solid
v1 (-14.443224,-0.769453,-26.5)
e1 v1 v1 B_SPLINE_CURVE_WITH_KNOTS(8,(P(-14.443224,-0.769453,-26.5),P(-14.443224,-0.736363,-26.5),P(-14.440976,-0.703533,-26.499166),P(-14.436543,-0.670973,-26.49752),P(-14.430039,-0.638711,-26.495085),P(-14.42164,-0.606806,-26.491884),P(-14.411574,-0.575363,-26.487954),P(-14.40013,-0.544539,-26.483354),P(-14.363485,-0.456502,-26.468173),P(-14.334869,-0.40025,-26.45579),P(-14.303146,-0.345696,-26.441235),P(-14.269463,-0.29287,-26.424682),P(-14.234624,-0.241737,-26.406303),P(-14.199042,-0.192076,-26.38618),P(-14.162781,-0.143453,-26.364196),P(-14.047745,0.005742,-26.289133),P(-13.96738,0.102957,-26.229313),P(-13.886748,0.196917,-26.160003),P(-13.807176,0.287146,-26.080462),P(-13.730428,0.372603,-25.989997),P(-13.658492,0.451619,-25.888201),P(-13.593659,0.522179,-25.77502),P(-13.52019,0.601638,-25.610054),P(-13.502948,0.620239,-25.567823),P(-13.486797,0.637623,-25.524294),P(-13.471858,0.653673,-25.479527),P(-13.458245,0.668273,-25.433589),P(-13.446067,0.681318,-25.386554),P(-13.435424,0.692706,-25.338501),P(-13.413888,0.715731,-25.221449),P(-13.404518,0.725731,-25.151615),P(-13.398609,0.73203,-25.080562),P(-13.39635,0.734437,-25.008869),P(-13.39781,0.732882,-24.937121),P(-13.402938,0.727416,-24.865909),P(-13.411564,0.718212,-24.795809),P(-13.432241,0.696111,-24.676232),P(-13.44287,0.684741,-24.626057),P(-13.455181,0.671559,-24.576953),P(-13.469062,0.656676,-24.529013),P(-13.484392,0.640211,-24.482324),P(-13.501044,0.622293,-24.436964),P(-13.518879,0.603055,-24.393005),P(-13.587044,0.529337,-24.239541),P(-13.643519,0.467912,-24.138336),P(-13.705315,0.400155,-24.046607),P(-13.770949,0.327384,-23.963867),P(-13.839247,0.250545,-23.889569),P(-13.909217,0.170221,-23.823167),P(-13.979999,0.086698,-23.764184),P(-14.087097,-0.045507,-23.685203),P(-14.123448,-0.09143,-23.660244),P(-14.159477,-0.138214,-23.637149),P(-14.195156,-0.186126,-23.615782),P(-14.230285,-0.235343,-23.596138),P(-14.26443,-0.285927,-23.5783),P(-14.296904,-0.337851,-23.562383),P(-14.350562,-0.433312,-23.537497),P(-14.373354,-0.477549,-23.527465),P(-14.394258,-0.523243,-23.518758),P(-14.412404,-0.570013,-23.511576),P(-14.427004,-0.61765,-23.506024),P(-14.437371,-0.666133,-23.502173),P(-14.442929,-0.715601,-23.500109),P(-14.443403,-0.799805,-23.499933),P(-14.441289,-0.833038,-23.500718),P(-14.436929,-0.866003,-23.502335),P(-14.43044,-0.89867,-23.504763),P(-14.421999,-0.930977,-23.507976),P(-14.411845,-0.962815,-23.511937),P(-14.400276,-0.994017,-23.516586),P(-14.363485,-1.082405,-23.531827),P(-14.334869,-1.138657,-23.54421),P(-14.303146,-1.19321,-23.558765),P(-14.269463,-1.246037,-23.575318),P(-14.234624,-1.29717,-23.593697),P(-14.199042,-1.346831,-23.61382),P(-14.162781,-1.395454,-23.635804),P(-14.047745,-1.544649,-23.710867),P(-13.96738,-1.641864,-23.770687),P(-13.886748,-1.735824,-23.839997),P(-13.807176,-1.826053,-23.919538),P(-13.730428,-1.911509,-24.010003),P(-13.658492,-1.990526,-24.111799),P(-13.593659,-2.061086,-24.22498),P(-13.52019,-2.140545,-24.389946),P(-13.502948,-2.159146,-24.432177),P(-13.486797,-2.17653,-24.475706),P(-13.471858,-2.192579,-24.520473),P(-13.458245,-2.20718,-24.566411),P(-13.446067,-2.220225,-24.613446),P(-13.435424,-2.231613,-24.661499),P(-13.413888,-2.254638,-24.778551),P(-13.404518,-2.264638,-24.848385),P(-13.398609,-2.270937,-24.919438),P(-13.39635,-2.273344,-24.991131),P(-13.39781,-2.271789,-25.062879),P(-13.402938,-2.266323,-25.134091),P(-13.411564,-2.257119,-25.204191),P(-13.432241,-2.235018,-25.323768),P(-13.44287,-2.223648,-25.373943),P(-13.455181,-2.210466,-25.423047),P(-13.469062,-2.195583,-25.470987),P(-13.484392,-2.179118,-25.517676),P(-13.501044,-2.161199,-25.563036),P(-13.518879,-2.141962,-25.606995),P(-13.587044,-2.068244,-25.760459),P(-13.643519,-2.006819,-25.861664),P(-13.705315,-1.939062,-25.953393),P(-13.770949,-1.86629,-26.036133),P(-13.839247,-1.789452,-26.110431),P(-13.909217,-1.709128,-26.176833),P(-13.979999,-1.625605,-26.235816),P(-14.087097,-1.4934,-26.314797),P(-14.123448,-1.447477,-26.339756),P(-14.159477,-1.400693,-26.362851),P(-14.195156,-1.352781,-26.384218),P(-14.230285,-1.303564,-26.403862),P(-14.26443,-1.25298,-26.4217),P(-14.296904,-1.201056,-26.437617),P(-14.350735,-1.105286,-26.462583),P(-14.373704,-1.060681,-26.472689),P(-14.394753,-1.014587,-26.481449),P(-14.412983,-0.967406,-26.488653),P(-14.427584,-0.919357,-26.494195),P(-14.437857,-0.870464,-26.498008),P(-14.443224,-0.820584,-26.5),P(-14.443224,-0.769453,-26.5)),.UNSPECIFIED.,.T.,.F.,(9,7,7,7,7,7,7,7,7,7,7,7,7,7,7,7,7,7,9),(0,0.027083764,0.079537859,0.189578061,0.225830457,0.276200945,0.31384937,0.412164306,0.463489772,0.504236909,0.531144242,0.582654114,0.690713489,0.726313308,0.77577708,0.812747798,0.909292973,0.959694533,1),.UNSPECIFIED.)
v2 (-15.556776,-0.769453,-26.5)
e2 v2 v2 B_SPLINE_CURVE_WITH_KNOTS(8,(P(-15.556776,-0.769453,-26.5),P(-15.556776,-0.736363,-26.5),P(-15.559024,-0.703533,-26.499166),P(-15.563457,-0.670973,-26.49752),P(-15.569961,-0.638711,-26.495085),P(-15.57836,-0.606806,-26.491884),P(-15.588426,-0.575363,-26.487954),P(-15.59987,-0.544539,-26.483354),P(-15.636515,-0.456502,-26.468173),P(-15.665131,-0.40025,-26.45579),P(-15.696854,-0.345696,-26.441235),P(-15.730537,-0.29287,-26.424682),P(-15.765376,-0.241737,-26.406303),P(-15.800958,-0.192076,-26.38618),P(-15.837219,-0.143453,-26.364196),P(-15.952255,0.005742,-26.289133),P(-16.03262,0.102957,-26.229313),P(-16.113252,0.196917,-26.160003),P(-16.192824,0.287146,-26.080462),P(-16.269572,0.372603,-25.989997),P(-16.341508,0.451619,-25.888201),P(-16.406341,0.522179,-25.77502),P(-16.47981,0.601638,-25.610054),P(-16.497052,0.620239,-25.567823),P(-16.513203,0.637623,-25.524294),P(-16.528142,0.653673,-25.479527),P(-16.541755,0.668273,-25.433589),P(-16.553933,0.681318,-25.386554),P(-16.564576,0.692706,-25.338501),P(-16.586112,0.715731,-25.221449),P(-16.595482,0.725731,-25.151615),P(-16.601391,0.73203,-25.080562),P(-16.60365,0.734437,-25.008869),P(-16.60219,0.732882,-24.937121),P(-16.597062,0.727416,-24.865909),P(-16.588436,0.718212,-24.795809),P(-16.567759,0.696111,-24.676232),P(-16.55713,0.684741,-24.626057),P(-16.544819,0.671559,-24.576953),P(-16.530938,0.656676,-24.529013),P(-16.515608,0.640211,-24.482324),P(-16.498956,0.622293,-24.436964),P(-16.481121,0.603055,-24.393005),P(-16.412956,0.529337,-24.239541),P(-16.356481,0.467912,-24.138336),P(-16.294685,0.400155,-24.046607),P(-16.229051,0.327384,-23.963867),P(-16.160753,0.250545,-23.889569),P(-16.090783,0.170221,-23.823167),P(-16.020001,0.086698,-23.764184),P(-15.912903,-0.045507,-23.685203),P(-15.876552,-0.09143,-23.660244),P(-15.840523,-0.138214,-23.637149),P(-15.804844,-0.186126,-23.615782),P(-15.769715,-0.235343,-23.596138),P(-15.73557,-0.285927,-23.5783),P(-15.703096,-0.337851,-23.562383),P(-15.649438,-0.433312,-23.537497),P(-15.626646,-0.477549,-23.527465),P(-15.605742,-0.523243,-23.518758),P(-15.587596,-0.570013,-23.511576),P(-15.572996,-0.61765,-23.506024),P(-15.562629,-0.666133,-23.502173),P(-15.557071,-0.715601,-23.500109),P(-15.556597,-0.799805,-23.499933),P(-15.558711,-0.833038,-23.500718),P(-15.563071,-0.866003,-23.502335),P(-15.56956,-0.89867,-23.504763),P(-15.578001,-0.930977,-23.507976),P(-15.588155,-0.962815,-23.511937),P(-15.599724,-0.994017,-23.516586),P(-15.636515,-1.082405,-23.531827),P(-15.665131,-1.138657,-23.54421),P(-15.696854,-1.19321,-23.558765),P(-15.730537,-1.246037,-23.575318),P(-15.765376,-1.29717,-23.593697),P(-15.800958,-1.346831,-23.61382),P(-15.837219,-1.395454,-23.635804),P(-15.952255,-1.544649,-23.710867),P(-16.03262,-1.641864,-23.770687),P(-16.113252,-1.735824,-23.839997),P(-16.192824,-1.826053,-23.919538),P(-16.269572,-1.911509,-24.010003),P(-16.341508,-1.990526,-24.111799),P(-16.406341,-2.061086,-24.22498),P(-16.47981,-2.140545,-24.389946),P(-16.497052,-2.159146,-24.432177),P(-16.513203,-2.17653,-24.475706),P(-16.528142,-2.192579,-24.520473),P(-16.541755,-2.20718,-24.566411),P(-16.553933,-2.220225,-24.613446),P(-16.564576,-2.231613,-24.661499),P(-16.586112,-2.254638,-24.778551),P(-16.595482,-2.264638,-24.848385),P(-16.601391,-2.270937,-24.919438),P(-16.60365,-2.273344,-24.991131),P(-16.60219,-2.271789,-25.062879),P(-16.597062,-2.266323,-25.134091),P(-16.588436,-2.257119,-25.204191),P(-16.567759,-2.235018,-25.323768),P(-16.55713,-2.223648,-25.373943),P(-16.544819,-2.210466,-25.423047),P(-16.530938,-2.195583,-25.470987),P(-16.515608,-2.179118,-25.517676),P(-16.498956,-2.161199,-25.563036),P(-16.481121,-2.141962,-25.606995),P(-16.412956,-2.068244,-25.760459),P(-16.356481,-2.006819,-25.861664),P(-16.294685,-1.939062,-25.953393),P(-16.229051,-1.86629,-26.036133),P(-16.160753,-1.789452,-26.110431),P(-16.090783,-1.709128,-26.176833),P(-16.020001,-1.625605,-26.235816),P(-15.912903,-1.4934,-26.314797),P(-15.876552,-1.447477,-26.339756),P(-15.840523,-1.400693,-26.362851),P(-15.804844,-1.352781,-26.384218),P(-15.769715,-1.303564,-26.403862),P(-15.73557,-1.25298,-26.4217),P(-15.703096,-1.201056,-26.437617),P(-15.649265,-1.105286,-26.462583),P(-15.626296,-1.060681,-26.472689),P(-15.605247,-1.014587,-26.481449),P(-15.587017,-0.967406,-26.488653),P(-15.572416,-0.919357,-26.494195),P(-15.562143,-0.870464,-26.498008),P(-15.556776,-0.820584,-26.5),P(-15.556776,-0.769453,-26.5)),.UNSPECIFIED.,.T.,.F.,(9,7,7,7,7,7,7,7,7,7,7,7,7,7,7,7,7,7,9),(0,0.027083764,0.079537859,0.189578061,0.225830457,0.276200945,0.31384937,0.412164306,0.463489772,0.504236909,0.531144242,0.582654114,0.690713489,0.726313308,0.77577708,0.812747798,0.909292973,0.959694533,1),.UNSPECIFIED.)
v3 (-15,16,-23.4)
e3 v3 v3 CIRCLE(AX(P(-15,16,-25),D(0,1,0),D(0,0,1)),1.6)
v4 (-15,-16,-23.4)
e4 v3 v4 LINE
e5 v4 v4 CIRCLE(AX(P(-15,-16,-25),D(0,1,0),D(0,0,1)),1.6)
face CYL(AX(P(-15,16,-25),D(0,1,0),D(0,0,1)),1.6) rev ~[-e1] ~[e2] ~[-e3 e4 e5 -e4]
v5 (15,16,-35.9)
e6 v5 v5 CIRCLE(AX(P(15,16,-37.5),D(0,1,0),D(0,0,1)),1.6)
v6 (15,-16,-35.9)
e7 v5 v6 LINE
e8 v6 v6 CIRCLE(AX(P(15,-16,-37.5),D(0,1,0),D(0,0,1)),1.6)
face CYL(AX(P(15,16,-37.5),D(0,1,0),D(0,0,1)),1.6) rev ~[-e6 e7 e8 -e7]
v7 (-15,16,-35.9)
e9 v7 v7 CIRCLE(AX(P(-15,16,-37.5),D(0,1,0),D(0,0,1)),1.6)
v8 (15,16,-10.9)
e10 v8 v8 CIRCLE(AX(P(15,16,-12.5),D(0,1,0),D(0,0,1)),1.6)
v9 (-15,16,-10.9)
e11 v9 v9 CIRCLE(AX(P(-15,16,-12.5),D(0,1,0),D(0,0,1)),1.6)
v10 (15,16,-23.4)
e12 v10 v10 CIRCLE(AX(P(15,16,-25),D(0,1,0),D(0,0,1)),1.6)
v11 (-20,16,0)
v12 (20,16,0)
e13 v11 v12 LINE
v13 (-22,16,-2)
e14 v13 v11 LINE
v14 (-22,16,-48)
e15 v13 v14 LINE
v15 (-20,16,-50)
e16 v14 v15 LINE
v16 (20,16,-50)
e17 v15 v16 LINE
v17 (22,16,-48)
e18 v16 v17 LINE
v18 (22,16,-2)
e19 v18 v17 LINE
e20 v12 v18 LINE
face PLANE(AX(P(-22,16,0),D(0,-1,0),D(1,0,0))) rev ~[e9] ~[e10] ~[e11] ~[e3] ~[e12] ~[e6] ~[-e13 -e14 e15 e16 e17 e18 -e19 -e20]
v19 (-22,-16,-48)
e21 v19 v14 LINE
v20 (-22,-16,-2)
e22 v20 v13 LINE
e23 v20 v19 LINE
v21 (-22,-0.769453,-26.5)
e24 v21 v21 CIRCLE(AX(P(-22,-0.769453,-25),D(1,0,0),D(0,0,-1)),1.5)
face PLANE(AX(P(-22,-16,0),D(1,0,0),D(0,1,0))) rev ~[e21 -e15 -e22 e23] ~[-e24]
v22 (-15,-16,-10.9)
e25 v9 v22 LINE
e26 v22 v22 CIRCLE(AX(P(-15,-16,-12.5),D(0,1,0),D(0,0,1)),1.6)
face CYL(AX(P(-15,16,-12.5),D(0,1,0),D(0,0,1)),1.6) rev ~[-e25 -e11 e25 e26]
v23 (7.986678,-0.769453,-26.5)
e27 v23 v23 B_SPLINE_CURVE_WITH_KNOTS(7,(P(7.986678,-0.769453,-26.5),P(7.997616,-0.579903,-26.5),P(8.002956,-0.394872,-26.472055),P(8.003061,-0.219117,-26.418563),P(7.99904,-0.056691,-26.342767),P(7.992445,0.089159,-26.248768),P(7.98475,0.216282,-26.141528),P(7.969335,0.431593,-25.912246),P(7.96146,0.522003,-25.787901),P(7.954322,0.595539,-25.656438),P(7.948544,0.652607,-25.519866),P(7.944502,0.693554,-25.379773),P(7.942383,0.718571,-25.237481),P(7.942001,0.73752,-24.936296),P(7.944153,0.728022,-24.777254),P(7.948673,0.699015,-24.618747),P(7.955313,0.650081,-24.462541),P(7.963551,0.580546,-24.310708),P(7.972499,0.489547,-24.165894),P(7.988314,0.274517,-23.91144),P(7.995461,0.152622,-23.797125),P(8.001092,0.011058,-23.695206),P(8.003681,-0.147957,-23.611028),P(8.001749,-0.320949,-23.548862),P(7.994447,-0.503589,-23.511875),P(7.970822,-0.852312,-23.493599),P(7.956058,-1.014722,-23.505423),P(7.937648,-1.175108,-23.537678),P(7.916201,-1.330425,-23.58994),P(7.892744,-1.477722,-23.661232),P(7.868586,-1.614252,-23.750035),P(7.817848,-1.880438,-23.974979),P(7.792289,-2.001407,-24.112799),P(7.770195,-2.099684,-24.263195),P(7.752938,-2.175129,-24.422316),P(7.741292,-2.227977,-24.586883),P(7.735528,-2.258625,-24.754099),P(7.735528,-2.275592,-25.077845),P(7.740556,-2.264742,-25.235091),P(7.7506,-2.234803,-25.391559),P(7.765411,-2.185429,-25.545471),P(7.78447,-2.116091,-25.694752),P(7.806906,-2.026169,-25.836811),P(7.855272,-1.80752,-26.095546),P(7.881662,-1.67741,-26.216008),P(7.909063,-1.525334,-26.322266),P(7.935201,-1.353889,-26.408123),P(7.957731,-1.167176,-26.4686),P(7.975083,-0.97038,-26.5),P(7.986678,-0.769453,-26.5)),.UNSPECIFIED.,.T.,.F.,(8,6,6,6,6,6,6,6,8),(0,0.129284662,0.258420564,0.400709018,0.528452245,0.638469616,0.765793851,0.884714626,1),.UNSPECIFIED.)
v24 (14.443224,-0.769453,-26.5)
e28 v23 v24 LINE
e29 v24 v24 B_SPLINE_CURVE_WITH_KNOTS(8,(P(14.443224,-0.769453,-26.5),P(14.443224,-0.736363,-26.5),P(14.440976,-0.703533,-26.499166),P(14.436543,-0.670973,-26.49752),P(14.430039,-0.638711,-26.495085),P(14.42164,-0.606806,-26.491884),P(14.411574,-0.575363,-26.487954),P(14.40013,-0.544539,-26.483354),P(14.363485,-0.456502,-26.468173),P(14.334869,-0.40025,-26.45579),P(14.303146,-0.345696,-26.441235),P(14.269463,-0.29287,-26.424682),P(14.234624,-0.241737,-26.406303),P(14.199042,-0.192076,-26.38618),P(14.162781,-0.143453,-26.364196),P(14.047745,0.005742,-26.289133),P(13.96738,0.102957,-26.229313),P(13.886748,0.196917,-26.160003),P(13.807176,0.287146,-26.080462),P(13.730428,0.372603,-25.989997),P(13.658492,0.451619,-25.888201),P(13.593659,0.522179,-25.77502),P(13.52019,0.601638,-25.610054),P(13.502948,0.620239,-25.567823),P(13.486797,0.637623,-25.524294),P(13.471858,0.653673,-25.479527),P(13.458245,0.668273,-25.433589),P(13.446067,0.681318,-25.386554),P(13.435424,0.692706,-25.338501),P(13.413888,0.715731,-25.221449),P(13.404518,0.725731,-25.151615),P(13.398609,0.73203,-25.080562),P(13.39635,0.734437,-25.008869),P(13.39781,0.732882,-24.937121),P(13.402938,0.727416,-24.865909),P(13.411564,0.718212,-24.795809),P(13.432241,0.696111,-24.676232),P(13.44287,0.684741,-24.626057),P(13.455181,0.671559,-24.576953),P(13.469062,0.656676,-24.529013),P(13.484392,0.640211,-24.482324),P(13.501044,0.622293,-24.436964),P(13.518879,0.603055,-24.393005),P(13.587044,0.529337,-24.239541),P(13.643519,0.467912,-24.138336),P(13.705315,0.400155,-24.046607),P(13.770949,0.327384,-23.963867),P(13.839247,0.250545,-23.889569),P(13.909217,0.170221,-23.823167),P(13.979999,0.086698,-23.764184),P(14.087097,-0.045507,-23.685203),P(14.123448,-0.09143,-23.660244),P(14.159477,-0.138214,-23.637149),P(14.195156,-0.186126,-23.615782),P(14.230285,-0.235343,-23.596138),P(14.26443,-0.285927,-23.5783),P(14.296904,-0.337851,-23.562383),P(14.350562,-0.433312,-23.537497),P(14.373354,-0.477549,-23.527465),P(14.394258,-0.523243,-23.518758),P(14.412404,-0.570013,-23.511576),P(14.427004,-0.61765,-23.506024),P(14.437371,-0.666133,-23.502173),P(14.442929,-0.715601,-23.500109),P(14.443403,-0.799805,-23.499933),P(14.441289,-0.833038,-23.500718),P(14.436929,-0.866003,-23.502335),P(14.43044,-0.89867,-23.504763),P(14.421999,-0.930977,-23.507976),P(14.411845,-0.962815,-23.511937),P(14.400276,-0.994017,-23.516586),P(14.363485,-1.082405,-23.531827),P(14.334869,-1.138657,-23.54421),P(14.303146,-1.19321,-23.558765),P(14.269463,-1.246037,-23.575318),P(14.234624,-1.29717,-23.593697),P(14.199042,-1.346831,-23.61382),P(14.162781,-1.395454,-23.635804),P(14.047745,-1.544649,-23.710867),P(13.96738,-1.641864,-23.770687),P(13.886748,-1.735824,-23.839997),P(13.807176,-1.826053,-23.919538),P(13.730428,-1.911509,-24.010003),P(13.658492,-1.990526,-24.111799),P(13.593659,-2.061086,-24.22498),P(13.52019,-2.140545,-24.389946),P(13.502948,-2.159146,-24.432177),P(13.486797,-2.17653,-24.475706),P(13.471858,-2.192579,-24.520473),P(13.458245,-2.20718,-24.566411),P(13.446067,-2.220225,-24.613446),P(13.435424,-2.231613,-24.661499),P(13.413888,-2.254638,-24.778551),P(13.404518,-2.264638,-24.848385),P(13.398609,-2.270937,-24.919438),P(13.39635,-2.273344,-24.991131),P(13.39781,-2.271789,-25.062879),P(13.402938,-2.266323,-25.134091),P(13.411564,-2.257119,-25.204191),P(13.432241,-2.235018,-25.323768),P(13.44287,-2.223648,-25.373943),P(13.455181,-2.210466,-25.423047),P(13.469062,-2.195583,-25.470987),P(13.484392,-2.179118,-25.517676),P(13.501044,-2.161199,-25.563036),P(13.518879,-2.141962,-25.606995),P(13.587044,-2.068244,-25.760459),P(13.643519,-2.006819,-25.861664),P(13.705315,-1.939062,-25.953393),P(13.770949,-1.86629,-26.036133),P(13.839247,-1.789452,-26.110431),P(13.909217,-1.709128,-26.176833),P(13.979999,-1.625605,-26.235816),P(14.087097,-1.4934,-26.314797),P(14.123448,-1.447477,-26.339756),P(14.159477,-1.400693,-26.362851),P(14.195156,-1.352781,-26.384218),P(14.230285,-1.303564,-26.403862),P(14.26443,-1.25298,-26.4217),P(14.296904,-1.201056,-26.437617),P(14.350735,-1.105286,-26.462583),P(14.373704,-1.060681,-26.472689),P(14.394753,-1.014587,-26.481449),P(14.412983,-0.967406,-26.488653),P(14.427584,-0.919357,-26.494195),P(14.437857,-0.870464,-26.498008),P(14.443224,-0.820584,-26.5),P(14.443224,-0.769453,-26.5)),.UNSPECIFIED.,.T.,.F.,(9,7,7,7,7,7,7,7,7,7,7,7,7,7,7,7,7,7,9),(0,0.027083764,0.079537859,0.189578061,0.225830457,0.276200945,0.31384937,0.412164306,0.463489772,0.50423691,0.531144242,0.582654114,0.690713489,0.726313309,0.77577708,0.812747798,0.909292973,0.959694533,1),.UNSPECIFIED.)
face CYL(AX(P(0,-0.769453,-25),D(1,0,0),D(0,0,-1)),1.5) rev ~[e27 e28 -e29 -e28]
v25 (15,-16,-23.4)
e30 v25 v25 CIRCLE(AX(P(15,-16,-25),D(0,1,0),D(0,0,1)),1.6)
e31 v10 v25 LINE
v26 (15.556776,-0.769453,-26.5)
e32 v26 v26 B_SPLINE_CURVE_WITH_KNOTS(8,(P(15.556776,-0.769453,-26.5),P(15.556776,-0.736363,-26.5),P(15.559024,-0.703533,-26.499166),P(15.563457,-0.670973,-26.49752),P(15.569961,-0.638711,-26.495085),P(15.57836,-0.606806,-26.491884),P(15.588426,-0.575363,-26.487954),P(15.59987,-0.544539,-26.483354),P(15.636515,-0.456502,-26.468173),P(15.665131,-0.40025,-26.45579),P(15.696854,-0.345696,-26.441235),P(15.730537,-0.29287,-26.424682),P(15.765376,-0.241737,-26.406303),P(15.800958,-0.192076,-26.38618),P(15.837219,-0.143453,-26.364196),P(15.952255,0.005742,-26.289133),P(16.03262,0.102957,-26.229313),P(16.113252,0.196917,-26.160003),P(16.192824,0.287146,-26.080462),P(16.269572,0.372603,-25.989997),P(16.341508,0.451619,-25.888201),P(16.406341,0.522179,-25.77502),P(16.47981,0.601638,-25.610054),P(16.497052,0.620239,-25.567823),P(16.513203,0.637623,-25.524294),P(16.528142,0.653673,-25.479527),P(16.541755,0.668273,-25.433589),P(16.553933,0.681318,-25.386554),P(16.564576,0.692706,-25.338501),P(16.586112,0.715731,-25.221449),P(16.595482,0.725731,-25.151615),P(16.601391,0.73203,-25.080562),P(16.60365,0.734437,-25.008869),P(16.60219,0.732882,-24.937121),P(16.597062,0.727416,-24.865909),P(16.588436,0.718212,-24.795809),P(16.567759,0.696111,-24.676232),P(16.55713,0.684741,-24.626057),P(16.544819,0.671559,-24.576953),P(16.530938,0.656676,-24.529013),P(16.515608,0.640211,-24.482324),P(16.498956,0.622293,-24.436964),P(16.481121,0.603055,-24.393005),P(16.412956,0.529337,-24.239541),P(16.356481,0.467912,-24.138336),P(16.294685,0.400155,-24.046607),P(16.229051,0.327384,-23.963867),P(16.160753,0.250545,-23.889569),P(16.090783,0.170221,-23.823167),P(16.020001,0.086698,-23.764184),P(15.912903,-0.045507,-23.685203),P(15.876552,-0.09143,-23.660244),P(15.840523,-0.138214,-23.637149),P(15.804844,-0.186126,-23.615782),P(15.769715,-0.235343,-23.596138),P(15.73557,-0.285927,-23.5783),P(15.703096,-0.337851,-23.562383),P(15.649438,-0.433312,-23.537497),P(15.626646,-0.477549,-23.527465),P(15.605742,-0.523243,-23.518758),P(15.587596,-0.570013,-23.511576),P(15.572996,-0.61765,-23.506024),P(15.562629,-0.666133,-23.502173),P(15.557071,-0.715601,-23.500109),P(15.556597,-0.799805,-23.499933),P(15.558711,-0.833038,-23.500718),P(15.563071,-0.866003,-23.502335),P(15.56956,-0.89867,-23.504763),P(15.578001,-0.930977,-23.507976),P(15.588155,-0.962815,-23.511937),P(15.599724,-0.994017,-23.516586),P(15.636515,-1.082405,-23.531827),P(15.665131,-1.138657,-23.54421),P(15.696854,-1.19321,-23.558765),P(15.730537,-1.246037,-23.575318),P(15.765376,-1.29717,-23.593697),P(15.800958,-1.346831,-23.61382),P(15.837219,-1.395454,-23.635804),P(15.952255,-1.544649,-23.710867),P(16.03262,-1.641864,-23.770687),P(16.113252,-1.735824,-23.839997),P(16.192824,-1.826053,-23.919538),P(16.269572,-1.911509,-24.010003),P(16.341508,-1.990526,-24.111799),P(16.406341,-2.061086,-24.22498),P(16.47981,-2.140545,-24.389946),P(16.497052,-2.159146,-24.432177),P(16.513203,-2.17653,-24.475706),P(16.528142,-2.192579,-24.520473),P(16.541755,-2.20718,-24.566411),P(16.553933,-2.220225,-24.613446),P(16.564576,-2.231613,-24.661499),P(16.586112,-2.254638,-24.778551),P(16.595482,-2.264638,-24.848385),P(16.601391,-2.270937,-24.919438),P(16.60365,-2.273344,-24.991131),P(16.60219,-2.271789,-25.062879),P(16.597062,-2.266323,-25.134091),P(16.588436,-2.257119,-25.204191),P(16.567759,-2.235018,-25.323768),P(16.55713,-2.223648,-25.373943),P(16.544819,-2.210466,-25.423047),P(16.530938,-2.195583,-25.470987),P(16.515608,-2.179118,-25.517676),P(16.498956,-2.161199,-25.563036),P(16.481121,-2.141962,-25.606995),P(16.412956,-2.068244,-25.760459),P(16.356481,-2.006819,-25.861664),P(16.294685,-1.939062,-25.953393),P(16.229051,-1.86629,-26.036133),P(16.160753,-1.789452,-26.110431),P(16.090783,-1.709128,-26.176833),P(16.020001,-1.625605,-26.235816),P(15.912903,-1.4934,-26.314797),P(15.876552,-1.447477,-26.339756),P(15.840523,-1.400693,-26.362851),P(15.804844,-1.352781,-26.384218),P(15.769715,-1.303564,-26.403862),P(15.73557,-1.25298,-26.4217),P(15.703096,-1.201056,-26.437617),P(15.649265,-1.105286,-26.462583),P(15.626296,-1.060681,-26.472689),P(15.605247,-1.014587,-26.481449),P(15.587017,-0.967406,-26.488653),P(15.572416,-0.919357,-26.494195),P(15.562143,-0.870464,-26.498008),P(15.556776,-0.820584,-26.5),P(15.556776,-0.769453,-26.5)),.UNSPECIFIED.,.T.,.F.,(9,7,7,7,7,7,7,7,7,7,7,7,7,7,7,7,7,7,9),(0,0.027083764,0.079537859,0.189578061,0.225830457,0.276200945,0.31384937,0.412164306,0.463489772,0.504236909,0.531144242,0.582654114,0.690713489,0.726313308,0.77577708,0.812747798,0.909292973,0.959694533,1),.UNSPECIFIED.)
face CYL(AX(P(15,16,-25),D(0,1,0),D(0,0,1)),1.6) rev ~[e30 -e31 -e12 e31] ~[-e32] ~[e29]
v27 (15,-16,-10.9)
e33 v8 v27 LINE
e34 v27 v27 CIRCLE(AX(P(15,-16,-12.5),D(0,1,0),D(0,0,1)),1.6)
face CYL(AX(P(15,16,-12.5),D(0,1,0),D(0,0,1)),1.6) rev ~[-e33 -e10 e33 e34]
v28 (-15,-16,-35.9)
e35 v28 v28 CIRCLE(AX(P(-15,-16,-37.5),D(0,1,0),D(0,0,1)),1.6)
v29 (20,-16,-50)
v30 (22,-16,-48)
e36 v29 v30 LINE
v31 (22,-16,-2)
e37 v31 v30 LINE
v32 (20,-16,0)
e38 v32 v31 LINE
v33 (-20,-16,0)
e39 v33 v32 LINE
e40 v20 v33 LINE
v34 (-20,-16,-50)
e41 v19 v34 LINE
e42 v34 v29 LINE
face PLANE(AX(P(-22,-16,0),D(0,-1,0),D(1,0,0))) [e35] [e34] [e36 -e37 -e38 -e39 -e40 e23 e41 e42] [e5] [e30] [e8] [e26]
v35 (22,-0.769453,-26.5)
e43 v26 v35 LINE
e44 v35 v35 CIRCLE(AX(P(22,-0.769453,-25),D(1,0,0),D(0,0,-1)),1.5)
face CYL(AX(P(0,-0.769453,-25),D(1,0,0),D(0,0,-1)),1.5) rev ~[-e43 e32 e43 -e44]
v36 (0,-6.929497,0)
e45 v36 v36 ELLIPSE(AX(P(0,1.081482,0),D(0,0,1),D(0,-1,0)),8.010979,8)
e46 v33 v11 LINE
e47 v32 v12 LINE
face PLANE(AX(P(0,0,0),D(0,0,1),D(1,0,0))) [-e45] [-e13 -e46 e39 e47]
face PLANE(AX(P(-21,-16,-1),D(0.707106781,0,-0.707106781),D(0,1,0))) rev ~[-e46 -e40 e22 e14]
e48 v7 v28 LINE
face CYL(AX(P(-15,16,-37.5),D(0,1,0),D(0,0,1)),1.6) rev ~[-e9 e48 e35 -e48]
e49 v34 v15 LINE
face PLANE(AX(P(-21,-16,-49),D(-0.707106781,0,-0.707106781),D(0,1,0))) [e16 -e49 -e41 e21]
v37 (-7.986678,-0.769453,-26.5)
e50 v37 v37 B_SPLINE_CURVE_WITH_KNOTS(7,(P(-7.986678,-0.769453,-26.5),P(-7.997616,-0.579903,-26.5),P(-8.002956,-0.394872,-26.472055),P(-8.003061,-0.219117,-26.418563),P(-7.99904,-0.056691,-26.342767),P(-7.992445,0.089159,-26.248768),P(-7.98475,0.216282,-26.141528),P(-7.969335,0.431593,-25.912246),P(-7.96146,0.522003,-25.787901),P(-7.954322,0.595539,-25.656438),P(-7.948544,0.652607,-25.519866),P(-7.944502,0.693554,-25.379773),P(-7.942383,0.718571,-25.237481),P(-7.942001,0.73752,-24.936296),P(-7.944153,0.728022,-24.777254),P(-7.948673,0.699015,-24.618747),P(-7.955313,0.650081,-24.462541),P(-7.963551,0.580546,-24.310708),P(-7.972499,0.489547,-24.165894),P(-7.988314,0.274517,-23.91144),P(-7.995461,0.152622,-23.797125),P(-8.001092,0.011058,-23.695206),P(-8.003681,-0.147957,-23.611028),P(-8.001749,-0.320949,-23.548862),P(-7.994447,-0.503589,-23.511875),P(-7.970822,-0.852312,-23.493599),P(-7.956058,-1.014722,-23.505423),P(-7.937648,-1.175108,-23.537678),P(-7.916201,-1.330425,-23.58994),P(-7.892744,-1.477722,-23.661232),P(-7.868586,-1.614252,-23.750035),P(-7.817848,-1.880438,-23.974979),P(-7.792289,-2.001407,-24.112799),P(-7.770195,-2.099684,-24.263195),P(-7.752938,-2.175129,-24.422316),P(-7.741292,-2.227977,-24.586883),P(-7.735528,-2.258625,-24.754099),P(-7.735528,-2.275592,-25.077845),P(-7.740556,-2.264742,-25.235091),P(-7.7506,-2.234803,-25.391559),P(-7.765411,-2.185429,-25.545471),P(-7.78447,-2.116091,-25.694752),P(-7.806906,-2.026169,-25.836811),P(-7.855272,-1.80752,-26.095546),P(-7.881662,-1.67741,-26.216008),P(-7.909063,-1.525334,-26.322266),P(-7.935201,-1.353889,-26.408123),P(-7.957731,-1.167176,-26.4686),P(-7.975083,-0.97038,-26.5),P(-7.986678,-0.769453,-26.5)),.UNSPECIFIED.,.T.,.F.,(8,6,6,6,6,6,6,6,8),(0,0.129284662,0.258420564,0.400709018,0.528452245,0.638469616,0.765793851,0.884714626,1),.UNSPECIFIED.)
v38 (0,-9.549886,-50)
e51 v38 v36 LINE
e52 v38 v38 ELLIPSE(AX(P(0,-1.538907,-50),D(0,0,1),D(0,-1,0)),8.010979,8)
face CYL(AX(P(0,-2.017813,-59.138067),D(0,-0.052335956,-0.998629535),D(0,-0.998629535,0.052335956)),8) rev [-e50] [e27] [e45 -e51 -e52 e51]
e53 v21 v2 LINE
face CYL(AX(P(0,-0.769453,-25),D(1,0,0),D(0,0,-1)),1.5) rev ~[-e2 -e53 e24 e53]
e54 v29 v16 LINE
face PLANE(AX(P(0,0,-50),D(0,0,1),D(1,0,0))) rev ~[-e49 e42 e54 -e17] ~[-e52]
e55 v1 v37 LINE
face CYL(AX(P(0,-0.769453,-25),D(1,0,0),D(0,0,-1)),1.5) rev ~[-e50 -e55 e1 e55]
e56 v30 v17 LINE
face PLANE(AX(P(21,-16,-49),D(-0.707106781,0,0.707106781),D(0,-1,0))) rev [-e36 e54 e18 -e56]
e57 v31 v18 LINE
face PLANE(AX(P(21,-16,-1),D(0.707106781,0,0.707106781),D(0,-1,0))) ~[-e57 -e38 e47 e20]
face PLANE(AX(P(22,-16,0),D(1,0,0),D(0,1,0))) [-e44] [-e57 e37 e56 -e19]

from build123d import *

# Parameters (mm, degrees)
IZIM1_W                     = 44
IZIM1_H                     = 32
Y_KSEKLIK_EKSTR_ZYON1_DEPTH = 50
KES_EKSTR_ZYON1_DEPTH       = 56
KES_EKSTR_ZYON1_DEPTH_BACK  = 60
IZIM2_R                     = 8
IZIM4_R                     = 1.6
KES_EKSTR_ZYON2_DEPTH       = 60
IZIM5_R                     = 1.5
KES_EKSTR_ZYON3_DEPTH       = 45
PAH1_SIZE                   = 2


with BuildPart() as part:
    # Çizim1 → Yükseklik-Ekstrüzyon1 (new body)
    with BuildSketch(Plane.XY):
        Rectangle(IZIM1_W, IZIM1_H)
    extrude(amount=-Y_KSEKLIK_EKSTR_ZYON1_DEPTH)

    # Çizim2 → Kes-Ekstrüzyon1 (cut, two sides: drawn at the far end of the back side and taken through both)
    with BuildSketch(Plane(origin=(0, 0.043824837, 0.836227706), x_dir=(-1, 0, 0), z_dir=(0, 0.05233595624294396, 0.998629534754574)).offset(-KES_EKSTR_ZYON1_DEPTH_BACK)):
        with Locations(Location((0, -1.08, 0), (0, 0, 90))):
            Circle(IZIM2_R)
    extrude(amount=KES_EKSTR_ZYON1_DEPTH + KES_EKSTR_ZYON1_DEPTH_BACK, mode=Mode.SUBTRACT)

    # Çizim4 → Kes-Ekstrüzyon2 (cut)
    with BuildSketch(Plane(origin=(0, 16, 0), x_dir=(1, 0, 0), z_dir=(0, 1, 0))):
        with Locations(Location((-15, 25, 0), (0, 0, 270))):
            Circle(IZIM4_R)
        with Locations(Location((-15, 37.5, 0), (0, 0, 270))):
            Circle(IZIM4_R)
        with Locations(Location((-15, 12.5, 0), (0, 0, 270))):
            Circle(IZIM4_R)
        with Locations(Location((15, 12.5, 0), (0, 0, 270))):
            Circle(IZIM4_R)
        with Locations(Location((15, 37.5, 0), (0, 0, 270))):
            Circle(IZIM4_R)
        with Locations(Location((15, 25, 0), (0, 0, 270))):
            Circle(IZIM4_R)
    extrude(amount=-KES_EKSTR_ZYON2_DEPTH, mode=Mode.SUBTRACT)

    # Çizim5 → Kes-Ekstrüzyon3 (cut, symmetric)
    with BuildSketch(Plane(origin=(0, 0, 0), x_dir=(0, 0, -1), z_dir=(1, 0, 0))):
        with Locations((25, -0.769453415)):
            Circle(IZIM5_R)
    extrude(amount=KES_EKSTR_ZYON3_DEPTH, both=True, mode=Mode.SUBTRACT)

    # Pah1
    pah1_edges = [part.edges().sort_by_distance(p)[0] for p in [
        (-22, 0, -50),
        (22, 0, -50),
        (-22, 0, 0),
        (22, 0, 0),
    ]]
    chamfer(pah1_edges, length=PAH1_SIZE)


solid = part.part
